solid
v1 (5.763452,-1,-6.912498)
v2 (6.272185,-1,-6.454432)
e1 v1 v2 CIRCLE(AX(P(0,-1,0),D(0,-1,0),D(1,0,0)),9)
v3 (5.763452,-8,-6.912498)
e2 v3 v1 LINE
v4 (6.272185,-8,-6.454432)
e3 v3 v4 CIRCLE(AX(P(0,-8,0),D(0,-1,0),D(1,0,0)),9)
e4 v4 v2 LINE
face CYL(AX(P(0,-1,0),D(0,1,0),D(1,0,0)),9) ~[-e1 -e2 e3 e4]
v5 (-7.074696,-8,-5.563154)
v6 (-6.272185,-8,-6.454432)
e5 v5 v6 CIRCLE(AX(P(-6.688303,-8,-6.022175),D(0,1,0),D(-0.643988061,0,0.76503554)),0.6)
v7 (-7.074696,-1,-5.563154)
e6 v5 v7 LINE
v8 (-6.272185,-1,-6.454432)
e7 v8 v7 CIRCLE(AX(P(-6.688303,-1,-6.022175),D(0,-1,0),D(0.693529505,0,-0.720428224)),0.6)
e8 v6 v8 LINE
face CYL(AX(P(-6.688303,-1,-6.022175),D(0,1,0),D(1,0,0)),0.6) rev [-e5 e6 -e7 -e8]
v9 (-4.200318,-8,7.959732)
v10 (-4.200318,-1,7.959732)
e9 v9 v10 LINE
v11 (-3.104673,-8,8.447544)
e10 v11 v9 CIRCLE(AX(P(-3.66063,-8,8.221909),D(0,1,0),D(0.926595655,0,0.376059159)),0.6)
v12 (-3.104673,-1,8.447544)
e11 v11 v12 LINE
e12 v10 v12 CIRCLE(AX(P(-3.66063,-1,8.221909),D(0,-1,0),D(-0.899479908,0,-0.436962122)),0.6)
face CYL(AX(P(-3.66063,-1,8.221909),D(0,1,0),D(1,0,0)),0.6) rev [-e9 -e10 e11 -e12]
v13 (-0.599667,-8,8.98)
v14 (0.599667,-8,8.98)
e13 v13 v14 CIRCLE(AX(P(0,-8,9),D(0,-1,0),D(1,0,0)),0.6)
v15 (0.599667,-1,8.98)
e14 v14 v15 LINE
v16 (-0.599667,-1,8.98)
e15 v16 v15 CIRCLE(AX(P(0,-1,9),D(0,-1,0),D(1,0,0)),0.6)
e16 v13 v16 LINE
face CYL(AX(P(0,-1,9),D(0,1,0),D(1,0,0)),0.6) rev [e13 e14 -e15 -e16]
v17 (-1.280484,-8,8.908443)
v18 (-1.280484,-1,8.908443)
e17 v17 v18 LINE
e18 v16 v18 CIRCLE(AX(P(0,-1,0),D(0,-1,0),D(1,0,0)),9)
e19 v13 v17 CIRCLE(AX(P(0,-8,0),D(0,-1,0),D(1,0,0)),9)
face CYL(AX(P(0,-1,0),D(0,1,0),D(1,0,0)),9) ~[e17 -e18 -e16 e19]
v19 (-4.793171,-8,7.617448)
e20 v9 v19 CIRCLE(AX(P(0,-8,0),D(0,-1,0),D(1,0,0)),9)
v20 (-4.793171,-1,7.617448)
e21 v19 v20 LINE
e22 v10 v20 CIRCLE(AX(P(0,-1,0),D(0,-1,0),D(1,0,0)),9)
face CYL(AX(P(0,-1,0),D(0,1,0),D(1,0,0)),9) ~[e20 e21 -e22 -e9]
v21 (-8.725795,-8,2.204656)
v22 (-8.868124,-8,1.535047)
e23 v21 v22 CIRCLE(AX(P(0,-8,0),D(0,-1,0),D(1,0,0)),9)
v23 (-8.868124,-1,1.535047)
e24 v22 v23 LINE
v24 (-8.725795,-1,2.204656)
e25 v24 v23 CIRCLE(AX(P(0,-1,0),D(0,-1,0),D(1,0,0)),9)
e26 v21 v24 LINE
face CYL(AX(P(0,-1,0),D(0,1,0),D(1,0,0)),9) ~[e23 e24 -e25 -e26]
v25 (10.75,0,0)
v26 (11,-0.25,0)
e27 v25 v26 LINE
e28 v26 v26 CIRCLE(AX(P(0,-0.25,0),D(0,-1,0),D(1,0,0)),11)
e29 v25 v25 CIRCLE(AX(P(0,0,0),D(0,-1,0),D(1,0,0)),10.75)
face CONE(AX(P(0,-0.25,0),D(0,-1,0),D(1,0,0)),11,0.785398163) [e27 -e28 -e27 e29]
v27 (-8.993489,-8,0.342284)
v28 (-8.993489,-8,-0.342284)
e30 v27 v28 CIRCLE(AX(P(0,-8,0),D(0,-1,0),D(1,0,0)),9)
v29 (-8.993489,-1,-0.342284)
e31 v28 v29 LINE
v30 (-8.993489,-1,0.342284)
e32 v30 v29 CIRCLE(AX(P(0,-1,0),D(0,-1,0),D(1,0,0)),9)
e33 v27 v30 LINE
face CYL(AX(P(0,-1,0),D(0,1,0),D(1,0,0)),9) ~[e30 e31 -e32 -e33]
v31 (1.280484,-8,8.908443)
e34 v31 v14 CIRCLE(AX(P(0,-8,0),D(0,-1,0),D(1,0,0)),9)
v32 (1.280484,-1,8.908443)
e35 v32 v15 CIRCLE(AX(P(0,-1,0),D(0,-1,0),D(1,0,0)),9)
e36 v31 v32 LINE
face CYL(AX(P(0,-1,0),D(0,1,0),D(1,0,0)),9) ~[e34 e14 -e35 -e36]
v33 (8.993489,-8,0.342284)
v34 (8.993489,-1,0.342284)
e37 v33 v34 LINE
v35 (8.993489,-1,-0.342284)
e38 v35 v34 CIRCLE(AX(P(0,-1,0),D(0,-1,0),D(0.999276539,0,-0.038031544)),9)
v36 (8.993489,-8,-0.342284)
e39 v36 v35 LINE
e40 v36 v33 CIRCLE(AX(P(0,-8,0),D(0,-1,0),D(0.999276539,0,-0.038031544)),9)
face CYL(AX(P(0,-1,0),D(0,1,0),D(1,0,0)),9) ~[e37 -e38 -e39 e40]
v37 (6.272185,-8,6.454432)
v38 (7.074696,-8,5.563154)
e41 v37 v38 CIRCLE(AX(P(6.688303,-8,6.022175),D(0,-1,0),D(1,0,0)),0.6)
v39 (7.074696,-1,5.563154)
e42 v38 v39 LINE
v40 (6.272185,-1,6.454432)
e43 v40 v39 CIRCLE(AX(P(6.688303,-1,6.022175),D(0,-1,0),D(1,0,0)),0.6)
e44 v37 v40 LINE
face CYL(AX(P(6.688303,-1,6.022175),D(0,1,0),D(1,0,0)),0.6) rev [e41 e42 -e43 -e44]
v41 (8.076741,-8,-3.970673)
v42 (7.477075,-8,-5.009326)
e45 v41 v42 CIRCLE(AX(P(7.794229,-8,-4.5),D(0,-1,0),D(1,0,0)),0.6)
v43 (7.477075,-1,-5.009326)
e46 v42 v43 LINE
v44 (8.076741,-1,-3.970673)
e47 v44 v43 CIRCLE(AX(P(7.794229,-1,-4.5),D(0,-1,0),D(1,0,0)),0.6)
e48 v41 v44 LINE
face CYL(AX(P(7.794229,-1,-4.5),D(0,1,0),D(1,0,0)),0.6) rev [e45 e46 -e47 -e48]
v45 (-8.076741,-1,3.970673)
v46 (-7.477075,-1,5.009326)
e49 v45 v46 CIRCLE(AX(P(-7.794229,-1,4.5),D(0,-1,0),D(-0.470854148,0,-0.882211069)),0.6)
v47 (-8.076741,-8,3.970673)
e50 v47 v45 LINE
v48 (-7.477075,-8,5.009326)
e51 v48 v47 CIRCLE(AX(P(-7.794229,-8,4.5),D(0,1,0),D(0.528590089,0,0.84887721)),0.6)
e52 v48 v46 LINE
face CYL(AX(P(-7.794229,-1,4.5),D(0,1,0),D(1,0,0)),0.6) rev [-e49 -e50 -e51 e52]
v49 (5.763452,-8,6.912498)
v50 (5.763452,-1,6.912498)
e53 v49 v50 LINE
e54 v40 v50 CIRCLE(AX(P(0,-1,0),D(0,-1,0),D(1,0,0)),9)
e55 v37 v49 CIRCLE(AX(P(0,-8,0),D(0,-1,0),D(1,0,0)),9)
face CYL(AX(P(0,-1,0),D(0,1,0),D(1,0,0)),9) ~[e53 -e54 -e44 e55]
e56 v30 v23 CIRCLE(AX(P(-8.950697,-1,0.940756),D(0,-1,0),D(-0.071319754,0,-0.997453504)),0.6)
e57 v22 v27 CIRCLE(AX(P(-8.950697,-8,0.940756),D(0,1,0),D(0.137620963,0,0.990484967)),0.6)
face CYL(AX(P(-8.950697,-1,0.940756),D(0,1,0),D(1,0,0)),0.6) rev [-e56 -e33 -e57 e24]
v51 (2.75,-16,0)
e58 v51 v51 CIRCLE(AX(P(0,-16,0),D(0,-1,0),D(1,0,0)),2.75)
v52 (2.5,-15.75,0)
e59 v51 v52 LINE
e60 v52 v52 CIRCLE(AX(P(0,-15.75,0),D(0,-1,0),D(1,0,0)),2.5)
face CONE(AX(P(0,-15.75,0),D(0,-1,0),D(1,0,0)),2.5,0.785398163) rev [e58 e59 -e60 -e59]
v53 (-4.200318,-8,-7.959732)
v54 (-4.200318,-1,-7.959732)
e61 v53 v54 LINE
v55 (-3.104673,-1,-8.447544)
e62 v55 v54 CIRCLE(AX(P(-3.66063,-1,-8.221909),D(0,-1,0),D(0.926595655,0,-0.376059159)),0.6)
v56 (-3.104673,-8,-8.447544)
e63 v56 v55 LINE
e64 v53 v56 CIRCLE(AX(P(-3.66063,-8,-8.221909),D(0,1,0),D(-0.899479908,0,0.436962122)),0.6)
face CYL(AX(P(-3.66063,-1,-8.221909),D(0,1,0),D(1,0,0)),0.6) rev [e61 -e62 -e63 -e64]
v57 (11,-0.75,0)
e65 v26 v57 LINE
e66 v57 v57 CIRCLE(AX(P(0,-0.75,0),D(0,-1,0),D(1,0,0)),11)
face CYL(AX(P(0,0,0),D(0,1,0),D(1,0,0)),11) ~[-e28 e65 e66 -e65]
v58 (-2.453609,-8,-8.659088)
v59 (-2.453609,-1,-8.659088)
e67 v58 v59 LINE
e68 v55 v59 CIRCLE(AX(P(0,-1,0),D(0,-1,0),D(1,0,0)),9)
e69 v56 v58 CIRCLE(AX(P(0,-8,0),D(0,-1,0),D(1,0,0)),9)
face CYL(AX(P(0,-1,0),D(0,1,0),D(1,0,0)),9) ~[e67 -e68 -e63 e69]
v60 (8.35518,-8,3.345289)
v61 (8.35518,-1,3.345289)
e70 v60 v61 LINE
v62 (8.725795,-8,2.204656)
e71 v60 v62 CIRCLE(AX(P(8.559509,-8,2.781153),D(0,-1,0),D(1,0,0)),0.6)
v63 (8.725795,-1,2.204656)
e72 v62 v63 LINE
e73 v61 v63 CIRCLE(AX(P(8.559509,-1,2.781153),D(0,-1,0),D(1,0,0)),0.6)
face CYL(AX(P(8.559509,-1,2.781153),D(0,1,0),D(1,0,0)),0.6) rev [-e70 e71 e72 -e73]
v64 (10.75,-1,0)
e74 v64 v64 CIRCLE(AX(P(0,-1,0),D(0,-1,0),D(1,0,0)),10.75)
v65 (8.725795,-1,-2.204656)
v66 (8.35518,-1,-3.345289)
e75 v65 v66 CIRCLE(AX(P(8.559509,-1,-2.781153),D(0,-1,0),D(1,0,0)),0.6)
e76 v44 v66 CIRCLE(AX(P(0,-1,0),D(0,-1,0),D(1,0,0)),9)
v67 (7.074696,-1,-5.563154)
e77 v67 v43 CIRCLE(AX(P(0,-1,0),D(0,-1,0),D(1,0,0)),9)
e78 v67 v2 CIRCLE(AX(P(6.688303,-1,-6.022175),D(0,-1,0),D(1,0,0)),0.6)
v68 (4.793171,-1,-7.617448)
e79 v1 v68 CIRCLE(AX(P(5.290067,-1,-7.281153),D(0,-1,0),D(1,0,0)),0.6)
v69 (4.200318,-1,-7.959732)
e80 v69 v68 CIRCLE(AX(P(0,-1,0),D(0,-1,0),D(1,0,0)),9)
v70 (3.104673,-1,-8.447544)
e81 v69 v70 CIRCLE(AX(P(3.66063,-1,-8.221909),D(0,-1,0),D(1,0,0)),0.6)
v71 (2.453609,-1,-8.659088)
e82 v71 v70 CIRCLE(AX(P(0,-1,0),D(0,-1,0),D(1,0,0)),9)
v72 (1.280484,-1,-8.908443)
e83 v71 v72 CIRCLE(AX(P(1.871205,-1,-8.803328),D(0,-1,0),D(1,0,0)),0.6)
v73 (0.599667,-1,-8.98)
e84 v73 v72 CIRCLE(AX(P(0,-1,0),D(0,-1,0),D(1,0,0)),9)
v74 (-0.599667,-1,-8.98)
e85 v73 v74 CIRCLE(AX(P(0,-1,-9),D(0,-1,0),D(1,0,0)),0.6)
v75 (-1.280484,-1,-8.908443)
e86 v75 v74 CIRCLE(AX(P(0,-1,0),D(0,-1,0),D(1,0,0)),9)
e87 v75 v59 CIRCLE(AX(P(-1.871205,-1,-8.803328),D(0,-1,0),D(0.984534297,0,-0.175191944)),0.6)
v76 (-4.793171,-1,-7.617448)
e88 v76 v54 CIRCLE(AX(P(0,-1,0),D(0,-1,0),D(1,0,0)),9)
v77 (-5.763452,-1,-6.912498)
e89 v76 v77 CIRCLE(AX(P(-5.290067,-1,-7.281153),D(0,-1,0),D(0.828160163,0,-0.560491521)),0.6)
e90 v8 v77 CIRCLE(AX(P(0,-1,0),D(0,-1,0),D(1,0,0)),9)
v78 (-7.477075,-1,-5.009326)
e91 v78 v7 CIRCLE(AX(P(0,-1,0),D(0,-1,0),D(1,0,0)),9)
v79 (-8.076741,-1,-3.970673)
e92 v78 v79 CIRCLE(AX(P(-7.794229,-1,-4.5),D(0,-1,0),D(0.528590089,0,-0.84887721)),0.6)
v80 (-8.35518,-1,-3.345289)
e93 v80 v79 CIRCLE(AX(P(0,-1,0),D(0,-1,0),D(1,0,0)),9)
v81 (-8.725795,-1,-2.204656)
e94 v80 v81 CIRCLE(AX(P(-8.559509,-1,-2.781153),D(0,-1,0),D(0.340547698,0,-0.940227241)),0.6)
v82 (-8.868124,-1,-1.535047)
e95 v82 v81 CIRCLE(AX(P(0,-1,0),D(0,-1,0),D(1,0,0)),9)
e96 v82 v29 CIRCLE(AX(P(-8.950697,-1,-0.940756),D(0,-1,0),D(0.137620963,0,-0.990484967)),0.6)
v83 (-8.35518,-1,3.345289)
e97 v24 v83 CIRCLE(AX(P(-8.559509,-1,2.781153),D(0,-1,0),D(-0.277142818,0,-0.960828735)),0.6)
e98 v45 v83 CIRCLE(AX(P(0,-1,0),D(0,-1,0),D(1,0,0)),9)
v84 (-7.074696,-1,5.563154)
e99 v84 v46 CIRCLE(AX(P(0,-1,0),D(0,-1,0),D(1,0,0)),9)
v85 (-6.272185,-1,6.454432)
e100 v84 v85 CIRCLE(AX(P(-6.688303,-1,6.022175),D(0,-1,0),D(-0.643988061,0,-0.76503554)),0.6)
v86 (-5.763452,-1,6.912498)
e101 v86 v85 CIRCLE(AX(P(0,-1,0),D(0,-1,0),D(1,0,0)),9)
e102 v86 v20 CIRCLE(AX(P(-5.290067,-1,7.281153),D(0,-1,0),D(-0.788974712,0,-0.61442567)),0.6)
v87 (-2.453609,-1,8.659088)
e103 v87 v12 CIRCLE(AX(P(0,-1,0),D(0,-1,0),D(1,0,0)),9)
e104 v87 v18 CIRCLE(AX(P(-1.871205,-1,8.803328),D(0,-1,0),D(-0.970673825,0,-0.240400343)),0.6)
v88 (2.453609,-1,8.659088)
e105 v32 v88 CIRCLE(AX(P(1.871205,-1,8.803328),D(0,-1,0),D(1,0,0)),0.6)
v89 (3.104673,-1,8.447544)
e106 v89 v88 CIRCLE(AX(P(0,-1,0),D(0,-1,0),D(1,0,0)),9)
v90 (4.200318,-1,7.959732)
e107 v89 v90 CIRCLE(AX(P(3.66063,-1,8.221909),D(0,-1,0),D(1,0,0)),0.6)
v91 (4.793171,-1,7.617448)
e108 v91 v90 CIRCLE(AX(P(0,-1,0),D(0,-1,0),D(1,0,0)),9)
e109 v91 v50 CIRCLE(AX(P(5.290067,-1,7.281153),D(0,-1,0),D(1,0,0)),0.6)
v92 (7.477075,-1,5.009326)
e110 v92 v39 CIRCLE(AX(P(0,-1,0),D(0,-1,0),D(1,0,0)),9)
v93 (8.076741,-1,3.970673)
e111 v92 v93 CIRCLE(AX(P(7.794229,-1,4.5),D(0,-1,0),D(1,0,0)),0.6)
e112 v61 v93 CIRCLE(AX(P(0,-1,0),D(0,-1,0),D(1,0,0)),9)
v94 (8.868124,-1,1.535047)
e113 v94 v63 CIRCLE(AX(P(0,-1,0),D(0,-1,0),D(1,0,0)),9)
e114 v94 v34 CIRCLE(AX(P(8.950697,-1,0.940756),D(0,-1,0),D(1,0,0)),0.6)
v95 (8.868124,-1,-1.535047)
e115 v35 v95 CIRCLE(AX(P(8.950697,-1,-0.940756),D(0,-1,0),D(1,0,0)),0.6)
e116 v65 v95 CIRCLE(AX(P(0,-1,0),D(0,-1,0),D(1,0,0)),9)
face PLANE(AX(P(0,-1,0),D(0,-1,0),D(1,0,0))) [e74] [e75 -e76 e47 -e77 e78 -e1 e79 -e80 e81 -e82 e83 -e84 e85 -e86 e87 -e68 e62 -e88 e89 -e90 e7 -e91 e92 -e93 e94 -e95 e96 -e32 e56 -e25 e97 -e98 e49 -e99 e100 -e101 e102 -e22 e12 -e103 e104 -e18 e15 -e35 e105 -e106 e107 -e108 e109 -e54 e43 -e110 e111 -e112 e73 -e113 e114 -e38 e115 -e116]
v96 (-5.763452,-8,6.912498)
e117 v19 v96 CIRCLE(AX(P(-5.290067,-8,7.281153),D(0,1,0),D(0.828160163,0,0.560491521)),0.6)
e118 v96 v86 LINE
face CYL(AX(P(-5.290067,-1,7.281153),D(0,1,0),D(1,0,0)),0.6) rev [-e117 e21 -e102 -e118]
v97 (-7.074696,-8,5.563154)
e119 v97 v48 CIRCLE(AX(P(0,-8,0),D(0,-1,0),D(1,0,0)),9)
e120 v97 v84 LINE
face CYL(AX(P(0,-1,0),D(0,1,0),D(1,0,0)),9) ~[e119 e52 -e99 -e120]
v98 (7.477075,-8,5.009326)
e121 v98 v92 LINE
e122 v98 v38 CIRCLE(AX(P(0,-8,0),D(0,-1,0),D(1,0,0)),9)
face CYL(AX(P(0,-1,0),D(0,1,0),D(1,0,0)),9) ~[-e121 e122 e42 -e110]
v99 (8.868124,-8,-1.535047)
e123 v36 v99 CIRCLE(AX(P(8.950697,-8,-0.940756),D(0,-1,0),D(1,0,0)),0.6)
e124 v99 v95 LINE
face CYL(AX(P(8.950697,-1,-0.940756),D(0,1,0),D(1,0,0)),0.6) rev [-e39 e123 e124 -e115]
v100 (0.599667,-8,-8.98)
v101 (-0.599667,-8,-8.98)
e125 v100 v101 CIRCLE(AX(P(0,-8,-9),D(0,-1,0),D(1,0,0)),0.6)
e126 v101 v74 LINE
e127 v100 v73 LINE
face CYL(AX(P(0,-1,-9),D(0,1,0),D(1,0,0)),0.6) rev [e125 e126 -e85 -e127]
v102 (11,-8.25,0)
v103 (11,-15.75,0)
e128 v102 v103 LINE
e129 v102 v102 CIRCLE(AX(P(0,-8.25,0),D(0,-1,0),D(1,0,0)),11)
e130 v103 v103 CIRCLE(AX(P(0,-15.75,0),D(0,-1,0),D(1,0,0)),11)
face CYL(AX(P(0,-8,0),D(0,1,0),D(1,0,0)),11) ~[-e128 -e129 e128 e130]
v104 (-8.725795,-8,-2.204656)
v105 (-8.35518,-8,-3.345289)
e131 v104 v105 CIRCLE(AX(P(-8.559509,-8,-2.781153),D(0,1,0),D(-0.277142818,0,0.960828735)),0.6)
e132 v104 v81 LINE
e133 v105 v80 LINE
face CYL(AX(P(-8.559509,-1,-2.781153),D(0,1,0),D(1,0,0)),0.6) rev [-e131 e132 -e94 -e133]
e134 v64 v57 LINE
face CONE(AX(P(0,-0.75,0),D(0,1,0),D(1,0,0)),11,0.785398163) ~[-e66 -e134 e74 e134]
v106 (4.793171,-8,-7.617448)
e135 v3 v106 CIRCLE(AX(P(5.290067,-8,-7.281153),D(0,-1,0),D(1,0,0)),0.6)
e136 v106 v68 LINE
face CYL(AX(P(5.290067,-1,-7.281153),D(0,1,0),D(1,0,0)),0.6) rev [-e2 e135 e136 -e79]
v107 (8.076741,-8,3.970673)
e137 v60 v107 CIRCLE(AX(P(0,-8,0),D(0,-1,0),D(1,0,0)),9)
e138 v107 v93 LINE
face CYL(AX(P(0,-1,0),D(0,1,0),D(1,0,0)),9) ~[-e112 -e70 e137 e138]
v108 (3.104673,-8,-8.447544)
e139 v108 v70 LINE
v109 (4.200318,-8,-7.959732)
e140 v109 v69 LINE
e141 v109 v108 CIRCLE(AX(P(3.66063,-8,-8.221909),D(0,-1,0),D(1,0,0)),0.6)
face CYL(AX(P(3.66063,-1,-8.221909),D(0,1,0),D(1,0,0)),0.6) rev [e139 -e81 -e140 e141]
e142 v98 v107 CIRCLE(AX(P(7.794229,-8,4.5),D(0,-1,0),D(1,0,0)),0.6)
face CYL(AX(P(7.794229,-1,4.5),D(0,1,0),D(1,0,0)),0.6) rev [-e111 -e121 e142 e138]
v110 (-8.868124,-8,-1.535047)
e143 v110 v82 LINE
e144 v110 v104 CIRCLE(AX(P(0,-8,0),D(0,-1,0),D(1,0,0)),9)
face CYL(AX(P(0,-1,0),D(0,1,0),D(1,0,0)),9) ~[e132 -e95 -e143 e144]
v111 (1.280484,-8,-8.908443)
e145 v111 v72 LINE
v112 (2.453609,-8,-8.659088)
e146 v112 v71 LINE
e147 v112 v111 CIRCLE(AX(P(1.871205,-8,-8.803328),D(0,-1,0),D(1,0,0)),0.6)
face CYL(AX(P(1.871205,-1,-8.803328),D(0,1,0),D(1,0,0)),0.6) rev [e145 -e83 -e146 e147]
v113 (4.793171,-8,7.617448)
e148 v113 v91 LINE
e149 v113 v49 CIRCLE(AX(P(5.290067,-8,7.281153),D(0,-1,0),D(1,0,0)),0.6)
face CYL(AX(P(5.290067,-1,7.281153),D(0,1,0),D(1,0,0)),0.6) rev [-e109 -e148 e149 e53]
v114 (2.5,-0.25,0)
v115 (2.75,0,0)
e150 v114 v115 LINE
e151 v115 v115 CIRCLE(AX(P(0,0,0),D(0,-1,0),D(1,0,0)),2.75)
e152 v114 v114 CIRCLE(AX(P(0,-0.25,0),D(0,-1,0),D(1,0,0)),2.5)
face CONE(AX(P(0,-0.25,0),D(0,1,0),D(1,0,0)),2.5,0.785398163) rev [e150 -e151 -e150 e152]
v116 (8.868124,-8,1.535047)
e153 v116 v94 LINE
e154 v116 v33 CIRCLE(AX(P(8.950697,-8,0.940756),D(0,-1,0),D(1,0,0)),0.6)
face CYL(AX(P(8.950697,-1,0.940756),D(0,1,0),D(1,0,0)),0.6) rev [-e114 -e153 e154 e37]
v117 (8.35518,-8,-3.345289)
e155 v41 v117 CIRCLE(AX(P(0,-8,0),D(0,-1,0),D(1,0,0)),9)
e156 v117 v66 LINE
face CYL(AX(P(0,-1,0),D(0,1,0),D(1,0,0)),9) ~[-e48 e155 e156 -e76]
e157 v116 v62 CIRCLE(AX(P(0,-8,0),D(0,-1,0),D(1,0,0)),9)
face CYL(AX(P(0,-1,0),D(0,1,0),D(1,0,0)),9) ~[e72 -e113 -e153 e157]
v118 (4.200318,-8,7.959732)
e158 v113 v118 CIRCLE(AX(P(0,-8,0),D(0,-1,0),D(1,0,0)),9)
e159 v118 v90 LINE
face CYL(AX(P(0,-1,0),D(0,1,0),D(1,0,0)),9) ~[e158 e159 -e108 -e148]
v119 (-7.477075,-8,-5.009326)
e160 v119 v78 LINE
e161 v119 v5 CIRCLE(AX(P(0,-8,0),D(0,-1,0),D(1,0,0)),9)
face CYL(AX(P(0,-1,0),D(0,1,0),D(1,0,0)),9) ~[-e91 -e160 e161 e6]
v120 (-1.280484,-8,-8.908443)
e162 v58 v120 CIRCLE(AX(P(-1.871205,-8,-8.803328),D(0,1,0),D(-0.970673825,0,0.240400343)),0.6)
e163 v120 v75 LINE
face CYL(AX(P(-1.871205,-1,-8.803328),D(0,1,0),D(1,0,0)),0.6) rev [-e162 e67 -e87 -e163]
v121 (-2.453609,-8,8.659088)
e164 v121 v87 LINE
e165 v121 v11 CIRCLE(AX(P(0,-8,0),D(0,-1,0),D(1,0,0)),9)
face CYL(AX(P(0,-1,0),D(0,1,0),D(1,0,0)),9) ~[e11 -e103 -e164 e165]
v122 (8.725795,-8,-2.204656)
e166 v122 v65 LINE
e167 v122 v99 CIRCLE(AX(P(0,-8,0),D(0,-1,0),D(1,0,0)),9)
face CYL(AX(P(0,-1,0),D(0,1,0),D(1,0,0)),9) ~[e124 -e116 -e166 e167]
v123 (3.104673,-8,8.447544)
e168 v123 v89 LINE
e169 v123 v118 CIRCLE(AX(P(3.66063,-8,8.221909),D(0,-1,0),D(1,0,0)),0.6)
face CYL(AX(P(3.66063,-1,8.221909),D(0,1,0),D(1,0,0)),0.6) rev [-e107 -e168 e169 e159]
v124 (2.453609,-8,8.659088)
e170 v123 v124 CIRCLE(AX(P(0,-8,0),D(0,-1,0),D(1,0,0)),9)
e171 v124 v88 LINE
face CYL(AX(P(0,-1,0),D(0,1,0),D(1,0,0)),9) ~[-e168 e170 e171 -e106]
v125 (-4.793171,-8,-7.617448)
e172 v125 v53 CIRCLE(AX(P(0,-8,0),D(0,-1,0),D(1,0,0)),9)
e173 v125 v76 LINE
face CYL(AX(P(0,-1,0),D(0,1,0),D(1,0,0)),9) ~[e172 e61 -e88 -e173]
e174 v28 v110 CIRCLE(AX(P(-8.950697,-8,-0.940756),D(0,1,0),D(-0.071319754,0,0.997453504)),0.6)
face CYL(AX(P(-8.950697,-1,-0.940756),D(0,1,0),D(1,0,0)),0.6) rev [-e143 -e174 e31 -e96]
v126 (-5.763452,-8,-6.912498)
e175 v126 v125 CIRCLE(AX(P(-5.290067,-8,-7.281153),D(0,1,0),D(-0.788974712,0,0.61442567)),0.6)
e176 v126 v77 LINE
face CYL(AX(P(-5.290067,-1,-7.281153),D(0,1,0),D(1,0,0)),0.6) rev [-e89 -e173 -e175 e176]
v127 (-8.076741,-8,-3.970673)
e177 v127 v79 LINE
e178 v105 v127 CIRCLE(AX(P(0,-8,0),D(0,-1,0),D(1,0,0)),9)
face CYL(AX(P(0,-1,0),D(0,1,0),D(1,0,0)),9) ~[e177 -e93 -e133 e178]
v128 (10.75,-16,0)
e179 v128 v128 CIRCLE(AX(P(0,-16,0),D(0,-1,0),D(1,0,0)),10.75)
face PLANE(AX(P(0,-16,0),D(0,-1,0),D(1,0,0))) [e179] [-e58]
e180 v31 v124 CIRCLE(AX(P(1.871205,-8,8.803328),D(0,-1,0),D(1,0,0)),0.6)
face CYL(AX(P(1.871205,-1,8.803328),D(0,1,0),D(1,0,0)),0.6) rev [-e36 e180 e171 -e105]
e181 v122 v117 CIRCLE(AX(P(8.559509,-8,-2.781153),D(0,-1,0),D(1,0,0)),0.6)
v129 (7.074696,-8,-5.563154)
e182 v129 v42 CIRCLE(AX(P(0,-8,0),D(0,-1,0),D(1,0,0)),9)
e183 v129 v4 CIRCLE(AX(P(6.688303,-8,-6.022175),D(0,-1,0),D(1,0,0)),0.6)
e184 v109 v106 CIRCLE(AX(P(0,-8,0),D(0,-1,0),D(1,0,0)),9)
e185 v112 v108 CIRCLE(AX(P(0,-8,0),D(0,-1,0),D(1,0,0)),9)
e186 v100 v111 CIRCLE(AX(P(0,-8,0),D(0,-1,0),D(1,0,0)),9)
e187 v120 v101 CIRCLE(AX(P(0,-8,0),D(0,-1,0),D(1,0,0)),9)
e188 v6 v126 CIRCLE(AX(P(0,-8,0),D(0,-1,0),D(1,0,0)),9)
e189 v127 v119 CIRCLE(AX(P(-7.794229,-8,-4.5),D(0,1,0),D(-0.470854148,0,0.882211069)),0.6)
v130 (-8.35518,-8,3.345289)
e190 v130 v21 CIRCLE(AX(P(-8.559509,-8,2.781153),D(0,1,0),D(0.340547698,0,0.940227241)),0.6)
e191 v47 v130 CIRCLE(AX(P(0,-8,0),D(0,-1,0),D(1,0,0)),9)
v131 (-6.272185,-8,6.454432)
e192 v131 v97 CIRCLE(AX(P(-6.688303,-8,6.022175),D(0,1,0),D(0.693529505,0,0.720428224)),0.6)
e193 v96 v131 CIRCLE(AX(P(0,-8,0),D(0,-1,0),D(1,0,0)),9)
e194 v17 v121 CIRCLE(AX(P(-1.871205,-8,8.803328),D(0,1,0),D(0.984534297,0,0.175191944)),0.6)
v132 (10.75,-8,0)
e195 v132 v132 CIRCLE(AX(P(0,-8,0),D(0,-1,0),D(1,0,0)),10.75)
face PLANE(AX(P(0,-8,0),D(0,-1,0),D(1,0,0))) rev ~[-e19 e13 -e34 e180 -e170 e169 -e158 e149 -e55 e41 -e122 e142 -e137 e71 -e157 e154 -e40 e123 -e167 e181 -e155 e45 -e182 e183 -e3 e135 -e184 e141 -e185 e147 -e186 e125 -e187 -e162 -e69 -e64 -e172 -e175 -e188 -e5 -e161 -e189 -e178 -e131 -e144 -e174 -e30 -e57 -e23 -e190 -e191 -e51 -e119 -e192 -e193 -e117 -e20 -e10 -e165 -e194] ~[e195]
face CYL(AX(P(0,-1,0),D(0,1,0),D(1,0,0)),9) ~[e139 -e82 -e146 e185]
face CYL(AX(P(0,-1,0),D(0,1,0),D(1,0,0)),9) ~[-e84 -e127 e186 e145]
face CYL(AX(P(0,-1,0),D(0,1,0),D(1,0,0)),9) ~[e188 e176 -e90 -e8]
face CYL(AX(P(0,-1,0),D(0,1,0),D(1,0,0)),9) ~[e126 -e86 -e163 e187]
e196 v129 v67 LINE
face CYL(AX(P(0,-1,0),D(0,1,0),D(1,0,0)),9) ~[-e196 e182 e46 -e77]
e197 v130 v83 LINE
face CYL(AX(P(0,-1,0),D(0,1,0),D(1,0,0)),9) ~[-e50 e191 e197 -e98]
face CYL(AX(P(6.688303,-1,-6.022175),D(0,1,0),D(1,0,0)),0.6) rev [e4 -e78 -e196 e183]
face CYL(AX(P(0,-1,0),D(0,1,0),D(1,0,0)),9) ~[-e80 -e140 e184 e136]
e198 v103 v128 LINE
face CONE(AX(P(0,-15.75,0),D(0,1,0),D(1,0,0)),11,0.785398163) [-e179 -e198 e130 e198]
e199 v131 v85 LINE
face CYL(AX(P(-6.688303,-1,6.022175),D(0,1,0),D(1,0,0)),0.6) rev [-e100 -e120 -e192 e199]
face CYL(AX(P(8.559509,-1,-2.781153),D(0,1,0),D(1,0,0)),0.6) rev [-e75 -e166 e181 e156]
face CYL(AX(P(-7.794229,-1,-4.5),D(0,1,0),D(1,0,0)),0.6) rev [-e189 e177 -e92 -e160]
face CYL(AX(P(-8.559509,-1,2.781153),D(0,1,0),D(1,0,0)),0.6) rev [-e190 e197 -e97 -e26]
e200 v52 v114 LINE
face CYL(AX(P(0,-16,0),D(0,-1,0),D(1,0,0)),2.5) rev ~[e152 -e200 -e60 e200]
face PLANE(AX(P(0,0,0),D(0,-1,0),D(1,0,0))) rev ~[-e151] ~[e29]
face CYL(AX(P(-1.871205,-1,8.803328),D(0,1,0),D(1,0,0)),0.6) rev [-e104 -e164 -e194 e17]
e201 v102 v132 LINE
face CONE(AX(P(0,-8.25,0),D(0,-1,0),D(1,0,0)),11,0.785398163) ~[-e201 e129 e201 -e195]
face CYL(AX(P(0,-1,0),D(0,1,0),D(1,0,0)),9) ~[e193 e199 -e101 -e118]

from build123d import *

# Parameters (mm, degrees)
F0_R     = 11
F1_DEPTH = 1
F2_R     = 9
F3_DEPTH = 7
F4_R     = 11
F5_DEPTH = 8
F6_R     = 0.6
F7_DEPTH = 7
F8_R     = 2.5
F9_DEPTH = 16.001
F10_SIZE = 0.25


with BuildPart() as f1:
    # F0 (on Front) → F1 (new body)
    with BuildSketch(Plane.XZ):
        Circle(F0_R)
    extrude(amount=F1_DEPTH)

    # F2 (on face) → F3 (join)
    with BuildSketch(Plane.XZ.offset(1)):
        Circle(F2_R)
    extrude(amount=F3_DEPTH)

    # F4 (on face) → F5 (join)
    with BuildSketch(Plane.XZ.offset(8)):
        Circle(F4_R)
    extrude(amount=F5_DEPTH)

    # F6 (on face) → F7 (cut, through all)
    with BuildSketch(Plane.XZ.offset(1)):
        with Locations((0, 9)):
            Circle(F6_R)
        with Locations((-1.871205, 8.803328)):
            Circle(F6_R)
        with Locations((-3.66063, 8.221909)):
            Circle(F6_R)
        with Locations((-5.290067, 7.281153)):
            Circle(F6_R)
        with Locations((-6.688303, 6.022175)):
            Circle(F6_R)
        with Locations((-7.794229, 4.5)):
            Circle(F6_R)
        with Locations((-8.559509, 2.781153)):
            Circle(F6_R)
        with Locations((-8.950697, 0.940756)):
            Circle(F6_R)
        with Locations((-8.950697, -0.940756)):
            Circle(F6_R)
        with Locations((-8.559509, -2.781153)):
            Circle(F6_R)
        with Locations((-7.794229, -4.5)):
            Circle(F6_R)
        with Locations((-6.688303, -6.022175)):
            Circle(F6_R)
        with Locations((-5.290067, -7.281153)):
            Circle(F6_R)
        with Locations((-3.66063, -8.221909)):
            Circle(F6_R)
        with Locations((-1.871205, -8.803328)):
            Circle(F6_R)
        with Locations((0, -9)):
            Circle(F6_R)
        with Locations((1.871205, -8.803328)):
            Circle(F6_R)
        with Locations((3.66063, -8.221909)):
            Circle(F6_R)
        with Locations((5.290067, -7.281153)):
            Circle(F6_R)
        with Locations((6.688303, -6.022175)):
            Circle(F6_R)
        with Locations((7.794229, -4.5)):
            Circle(F6_R)
        with Locations((8.559509, -2.781153)):
            Circle(F6_R)
        with Locations((8.950697, -0.940756)):
            Circle(F6_R)
        with Locations((8.950697, 0.940756)):
            Circle(F6_R)
        with Locations((8.559509, 2.781153)):
            Circle(F6_R)
        with Locations((7.794229, 4.5)):
            Circle(F6_R)
        with Locations((6.688303, 6.022175)):
            Circle(F6_R)
        with Locations((5.290067, 7.281153)):
            Circle(F6_R)
        with Locations((3.66063, 8.221909)):
            Circle(F6_R)
        with Locations((1.871205, 8.803328)):
            Circle(F6_R)
    extrude(amount=F7_DEPTH, mode=Mode.SUBTRACT)

    # F8 (on face) → F9 (cut, through all)
    with BuildSketch(Plane.XZ.offset(16)):
        Circle(F8_R)
    extrude(amount=-F9_DEPTH, mode=Mode.SUBTRACT)

    # F10
    f10_edges = [f1.edges().sort_by_distance(p)[0] for p in [
        (11, -12, 0),
        (-11, -8, 0),
        (-11, -16, 0),
        (11, -0.5, 0),
        (-11, 0, 0),
        (-11, -1, 0),
        (-2.5, -16, 0),
        (2.5, -8, 0),
        (-2.5, 0, 0),
    ]]
    chamfer(f10_edges, length=F10_SIZE)


solid = f1.part
